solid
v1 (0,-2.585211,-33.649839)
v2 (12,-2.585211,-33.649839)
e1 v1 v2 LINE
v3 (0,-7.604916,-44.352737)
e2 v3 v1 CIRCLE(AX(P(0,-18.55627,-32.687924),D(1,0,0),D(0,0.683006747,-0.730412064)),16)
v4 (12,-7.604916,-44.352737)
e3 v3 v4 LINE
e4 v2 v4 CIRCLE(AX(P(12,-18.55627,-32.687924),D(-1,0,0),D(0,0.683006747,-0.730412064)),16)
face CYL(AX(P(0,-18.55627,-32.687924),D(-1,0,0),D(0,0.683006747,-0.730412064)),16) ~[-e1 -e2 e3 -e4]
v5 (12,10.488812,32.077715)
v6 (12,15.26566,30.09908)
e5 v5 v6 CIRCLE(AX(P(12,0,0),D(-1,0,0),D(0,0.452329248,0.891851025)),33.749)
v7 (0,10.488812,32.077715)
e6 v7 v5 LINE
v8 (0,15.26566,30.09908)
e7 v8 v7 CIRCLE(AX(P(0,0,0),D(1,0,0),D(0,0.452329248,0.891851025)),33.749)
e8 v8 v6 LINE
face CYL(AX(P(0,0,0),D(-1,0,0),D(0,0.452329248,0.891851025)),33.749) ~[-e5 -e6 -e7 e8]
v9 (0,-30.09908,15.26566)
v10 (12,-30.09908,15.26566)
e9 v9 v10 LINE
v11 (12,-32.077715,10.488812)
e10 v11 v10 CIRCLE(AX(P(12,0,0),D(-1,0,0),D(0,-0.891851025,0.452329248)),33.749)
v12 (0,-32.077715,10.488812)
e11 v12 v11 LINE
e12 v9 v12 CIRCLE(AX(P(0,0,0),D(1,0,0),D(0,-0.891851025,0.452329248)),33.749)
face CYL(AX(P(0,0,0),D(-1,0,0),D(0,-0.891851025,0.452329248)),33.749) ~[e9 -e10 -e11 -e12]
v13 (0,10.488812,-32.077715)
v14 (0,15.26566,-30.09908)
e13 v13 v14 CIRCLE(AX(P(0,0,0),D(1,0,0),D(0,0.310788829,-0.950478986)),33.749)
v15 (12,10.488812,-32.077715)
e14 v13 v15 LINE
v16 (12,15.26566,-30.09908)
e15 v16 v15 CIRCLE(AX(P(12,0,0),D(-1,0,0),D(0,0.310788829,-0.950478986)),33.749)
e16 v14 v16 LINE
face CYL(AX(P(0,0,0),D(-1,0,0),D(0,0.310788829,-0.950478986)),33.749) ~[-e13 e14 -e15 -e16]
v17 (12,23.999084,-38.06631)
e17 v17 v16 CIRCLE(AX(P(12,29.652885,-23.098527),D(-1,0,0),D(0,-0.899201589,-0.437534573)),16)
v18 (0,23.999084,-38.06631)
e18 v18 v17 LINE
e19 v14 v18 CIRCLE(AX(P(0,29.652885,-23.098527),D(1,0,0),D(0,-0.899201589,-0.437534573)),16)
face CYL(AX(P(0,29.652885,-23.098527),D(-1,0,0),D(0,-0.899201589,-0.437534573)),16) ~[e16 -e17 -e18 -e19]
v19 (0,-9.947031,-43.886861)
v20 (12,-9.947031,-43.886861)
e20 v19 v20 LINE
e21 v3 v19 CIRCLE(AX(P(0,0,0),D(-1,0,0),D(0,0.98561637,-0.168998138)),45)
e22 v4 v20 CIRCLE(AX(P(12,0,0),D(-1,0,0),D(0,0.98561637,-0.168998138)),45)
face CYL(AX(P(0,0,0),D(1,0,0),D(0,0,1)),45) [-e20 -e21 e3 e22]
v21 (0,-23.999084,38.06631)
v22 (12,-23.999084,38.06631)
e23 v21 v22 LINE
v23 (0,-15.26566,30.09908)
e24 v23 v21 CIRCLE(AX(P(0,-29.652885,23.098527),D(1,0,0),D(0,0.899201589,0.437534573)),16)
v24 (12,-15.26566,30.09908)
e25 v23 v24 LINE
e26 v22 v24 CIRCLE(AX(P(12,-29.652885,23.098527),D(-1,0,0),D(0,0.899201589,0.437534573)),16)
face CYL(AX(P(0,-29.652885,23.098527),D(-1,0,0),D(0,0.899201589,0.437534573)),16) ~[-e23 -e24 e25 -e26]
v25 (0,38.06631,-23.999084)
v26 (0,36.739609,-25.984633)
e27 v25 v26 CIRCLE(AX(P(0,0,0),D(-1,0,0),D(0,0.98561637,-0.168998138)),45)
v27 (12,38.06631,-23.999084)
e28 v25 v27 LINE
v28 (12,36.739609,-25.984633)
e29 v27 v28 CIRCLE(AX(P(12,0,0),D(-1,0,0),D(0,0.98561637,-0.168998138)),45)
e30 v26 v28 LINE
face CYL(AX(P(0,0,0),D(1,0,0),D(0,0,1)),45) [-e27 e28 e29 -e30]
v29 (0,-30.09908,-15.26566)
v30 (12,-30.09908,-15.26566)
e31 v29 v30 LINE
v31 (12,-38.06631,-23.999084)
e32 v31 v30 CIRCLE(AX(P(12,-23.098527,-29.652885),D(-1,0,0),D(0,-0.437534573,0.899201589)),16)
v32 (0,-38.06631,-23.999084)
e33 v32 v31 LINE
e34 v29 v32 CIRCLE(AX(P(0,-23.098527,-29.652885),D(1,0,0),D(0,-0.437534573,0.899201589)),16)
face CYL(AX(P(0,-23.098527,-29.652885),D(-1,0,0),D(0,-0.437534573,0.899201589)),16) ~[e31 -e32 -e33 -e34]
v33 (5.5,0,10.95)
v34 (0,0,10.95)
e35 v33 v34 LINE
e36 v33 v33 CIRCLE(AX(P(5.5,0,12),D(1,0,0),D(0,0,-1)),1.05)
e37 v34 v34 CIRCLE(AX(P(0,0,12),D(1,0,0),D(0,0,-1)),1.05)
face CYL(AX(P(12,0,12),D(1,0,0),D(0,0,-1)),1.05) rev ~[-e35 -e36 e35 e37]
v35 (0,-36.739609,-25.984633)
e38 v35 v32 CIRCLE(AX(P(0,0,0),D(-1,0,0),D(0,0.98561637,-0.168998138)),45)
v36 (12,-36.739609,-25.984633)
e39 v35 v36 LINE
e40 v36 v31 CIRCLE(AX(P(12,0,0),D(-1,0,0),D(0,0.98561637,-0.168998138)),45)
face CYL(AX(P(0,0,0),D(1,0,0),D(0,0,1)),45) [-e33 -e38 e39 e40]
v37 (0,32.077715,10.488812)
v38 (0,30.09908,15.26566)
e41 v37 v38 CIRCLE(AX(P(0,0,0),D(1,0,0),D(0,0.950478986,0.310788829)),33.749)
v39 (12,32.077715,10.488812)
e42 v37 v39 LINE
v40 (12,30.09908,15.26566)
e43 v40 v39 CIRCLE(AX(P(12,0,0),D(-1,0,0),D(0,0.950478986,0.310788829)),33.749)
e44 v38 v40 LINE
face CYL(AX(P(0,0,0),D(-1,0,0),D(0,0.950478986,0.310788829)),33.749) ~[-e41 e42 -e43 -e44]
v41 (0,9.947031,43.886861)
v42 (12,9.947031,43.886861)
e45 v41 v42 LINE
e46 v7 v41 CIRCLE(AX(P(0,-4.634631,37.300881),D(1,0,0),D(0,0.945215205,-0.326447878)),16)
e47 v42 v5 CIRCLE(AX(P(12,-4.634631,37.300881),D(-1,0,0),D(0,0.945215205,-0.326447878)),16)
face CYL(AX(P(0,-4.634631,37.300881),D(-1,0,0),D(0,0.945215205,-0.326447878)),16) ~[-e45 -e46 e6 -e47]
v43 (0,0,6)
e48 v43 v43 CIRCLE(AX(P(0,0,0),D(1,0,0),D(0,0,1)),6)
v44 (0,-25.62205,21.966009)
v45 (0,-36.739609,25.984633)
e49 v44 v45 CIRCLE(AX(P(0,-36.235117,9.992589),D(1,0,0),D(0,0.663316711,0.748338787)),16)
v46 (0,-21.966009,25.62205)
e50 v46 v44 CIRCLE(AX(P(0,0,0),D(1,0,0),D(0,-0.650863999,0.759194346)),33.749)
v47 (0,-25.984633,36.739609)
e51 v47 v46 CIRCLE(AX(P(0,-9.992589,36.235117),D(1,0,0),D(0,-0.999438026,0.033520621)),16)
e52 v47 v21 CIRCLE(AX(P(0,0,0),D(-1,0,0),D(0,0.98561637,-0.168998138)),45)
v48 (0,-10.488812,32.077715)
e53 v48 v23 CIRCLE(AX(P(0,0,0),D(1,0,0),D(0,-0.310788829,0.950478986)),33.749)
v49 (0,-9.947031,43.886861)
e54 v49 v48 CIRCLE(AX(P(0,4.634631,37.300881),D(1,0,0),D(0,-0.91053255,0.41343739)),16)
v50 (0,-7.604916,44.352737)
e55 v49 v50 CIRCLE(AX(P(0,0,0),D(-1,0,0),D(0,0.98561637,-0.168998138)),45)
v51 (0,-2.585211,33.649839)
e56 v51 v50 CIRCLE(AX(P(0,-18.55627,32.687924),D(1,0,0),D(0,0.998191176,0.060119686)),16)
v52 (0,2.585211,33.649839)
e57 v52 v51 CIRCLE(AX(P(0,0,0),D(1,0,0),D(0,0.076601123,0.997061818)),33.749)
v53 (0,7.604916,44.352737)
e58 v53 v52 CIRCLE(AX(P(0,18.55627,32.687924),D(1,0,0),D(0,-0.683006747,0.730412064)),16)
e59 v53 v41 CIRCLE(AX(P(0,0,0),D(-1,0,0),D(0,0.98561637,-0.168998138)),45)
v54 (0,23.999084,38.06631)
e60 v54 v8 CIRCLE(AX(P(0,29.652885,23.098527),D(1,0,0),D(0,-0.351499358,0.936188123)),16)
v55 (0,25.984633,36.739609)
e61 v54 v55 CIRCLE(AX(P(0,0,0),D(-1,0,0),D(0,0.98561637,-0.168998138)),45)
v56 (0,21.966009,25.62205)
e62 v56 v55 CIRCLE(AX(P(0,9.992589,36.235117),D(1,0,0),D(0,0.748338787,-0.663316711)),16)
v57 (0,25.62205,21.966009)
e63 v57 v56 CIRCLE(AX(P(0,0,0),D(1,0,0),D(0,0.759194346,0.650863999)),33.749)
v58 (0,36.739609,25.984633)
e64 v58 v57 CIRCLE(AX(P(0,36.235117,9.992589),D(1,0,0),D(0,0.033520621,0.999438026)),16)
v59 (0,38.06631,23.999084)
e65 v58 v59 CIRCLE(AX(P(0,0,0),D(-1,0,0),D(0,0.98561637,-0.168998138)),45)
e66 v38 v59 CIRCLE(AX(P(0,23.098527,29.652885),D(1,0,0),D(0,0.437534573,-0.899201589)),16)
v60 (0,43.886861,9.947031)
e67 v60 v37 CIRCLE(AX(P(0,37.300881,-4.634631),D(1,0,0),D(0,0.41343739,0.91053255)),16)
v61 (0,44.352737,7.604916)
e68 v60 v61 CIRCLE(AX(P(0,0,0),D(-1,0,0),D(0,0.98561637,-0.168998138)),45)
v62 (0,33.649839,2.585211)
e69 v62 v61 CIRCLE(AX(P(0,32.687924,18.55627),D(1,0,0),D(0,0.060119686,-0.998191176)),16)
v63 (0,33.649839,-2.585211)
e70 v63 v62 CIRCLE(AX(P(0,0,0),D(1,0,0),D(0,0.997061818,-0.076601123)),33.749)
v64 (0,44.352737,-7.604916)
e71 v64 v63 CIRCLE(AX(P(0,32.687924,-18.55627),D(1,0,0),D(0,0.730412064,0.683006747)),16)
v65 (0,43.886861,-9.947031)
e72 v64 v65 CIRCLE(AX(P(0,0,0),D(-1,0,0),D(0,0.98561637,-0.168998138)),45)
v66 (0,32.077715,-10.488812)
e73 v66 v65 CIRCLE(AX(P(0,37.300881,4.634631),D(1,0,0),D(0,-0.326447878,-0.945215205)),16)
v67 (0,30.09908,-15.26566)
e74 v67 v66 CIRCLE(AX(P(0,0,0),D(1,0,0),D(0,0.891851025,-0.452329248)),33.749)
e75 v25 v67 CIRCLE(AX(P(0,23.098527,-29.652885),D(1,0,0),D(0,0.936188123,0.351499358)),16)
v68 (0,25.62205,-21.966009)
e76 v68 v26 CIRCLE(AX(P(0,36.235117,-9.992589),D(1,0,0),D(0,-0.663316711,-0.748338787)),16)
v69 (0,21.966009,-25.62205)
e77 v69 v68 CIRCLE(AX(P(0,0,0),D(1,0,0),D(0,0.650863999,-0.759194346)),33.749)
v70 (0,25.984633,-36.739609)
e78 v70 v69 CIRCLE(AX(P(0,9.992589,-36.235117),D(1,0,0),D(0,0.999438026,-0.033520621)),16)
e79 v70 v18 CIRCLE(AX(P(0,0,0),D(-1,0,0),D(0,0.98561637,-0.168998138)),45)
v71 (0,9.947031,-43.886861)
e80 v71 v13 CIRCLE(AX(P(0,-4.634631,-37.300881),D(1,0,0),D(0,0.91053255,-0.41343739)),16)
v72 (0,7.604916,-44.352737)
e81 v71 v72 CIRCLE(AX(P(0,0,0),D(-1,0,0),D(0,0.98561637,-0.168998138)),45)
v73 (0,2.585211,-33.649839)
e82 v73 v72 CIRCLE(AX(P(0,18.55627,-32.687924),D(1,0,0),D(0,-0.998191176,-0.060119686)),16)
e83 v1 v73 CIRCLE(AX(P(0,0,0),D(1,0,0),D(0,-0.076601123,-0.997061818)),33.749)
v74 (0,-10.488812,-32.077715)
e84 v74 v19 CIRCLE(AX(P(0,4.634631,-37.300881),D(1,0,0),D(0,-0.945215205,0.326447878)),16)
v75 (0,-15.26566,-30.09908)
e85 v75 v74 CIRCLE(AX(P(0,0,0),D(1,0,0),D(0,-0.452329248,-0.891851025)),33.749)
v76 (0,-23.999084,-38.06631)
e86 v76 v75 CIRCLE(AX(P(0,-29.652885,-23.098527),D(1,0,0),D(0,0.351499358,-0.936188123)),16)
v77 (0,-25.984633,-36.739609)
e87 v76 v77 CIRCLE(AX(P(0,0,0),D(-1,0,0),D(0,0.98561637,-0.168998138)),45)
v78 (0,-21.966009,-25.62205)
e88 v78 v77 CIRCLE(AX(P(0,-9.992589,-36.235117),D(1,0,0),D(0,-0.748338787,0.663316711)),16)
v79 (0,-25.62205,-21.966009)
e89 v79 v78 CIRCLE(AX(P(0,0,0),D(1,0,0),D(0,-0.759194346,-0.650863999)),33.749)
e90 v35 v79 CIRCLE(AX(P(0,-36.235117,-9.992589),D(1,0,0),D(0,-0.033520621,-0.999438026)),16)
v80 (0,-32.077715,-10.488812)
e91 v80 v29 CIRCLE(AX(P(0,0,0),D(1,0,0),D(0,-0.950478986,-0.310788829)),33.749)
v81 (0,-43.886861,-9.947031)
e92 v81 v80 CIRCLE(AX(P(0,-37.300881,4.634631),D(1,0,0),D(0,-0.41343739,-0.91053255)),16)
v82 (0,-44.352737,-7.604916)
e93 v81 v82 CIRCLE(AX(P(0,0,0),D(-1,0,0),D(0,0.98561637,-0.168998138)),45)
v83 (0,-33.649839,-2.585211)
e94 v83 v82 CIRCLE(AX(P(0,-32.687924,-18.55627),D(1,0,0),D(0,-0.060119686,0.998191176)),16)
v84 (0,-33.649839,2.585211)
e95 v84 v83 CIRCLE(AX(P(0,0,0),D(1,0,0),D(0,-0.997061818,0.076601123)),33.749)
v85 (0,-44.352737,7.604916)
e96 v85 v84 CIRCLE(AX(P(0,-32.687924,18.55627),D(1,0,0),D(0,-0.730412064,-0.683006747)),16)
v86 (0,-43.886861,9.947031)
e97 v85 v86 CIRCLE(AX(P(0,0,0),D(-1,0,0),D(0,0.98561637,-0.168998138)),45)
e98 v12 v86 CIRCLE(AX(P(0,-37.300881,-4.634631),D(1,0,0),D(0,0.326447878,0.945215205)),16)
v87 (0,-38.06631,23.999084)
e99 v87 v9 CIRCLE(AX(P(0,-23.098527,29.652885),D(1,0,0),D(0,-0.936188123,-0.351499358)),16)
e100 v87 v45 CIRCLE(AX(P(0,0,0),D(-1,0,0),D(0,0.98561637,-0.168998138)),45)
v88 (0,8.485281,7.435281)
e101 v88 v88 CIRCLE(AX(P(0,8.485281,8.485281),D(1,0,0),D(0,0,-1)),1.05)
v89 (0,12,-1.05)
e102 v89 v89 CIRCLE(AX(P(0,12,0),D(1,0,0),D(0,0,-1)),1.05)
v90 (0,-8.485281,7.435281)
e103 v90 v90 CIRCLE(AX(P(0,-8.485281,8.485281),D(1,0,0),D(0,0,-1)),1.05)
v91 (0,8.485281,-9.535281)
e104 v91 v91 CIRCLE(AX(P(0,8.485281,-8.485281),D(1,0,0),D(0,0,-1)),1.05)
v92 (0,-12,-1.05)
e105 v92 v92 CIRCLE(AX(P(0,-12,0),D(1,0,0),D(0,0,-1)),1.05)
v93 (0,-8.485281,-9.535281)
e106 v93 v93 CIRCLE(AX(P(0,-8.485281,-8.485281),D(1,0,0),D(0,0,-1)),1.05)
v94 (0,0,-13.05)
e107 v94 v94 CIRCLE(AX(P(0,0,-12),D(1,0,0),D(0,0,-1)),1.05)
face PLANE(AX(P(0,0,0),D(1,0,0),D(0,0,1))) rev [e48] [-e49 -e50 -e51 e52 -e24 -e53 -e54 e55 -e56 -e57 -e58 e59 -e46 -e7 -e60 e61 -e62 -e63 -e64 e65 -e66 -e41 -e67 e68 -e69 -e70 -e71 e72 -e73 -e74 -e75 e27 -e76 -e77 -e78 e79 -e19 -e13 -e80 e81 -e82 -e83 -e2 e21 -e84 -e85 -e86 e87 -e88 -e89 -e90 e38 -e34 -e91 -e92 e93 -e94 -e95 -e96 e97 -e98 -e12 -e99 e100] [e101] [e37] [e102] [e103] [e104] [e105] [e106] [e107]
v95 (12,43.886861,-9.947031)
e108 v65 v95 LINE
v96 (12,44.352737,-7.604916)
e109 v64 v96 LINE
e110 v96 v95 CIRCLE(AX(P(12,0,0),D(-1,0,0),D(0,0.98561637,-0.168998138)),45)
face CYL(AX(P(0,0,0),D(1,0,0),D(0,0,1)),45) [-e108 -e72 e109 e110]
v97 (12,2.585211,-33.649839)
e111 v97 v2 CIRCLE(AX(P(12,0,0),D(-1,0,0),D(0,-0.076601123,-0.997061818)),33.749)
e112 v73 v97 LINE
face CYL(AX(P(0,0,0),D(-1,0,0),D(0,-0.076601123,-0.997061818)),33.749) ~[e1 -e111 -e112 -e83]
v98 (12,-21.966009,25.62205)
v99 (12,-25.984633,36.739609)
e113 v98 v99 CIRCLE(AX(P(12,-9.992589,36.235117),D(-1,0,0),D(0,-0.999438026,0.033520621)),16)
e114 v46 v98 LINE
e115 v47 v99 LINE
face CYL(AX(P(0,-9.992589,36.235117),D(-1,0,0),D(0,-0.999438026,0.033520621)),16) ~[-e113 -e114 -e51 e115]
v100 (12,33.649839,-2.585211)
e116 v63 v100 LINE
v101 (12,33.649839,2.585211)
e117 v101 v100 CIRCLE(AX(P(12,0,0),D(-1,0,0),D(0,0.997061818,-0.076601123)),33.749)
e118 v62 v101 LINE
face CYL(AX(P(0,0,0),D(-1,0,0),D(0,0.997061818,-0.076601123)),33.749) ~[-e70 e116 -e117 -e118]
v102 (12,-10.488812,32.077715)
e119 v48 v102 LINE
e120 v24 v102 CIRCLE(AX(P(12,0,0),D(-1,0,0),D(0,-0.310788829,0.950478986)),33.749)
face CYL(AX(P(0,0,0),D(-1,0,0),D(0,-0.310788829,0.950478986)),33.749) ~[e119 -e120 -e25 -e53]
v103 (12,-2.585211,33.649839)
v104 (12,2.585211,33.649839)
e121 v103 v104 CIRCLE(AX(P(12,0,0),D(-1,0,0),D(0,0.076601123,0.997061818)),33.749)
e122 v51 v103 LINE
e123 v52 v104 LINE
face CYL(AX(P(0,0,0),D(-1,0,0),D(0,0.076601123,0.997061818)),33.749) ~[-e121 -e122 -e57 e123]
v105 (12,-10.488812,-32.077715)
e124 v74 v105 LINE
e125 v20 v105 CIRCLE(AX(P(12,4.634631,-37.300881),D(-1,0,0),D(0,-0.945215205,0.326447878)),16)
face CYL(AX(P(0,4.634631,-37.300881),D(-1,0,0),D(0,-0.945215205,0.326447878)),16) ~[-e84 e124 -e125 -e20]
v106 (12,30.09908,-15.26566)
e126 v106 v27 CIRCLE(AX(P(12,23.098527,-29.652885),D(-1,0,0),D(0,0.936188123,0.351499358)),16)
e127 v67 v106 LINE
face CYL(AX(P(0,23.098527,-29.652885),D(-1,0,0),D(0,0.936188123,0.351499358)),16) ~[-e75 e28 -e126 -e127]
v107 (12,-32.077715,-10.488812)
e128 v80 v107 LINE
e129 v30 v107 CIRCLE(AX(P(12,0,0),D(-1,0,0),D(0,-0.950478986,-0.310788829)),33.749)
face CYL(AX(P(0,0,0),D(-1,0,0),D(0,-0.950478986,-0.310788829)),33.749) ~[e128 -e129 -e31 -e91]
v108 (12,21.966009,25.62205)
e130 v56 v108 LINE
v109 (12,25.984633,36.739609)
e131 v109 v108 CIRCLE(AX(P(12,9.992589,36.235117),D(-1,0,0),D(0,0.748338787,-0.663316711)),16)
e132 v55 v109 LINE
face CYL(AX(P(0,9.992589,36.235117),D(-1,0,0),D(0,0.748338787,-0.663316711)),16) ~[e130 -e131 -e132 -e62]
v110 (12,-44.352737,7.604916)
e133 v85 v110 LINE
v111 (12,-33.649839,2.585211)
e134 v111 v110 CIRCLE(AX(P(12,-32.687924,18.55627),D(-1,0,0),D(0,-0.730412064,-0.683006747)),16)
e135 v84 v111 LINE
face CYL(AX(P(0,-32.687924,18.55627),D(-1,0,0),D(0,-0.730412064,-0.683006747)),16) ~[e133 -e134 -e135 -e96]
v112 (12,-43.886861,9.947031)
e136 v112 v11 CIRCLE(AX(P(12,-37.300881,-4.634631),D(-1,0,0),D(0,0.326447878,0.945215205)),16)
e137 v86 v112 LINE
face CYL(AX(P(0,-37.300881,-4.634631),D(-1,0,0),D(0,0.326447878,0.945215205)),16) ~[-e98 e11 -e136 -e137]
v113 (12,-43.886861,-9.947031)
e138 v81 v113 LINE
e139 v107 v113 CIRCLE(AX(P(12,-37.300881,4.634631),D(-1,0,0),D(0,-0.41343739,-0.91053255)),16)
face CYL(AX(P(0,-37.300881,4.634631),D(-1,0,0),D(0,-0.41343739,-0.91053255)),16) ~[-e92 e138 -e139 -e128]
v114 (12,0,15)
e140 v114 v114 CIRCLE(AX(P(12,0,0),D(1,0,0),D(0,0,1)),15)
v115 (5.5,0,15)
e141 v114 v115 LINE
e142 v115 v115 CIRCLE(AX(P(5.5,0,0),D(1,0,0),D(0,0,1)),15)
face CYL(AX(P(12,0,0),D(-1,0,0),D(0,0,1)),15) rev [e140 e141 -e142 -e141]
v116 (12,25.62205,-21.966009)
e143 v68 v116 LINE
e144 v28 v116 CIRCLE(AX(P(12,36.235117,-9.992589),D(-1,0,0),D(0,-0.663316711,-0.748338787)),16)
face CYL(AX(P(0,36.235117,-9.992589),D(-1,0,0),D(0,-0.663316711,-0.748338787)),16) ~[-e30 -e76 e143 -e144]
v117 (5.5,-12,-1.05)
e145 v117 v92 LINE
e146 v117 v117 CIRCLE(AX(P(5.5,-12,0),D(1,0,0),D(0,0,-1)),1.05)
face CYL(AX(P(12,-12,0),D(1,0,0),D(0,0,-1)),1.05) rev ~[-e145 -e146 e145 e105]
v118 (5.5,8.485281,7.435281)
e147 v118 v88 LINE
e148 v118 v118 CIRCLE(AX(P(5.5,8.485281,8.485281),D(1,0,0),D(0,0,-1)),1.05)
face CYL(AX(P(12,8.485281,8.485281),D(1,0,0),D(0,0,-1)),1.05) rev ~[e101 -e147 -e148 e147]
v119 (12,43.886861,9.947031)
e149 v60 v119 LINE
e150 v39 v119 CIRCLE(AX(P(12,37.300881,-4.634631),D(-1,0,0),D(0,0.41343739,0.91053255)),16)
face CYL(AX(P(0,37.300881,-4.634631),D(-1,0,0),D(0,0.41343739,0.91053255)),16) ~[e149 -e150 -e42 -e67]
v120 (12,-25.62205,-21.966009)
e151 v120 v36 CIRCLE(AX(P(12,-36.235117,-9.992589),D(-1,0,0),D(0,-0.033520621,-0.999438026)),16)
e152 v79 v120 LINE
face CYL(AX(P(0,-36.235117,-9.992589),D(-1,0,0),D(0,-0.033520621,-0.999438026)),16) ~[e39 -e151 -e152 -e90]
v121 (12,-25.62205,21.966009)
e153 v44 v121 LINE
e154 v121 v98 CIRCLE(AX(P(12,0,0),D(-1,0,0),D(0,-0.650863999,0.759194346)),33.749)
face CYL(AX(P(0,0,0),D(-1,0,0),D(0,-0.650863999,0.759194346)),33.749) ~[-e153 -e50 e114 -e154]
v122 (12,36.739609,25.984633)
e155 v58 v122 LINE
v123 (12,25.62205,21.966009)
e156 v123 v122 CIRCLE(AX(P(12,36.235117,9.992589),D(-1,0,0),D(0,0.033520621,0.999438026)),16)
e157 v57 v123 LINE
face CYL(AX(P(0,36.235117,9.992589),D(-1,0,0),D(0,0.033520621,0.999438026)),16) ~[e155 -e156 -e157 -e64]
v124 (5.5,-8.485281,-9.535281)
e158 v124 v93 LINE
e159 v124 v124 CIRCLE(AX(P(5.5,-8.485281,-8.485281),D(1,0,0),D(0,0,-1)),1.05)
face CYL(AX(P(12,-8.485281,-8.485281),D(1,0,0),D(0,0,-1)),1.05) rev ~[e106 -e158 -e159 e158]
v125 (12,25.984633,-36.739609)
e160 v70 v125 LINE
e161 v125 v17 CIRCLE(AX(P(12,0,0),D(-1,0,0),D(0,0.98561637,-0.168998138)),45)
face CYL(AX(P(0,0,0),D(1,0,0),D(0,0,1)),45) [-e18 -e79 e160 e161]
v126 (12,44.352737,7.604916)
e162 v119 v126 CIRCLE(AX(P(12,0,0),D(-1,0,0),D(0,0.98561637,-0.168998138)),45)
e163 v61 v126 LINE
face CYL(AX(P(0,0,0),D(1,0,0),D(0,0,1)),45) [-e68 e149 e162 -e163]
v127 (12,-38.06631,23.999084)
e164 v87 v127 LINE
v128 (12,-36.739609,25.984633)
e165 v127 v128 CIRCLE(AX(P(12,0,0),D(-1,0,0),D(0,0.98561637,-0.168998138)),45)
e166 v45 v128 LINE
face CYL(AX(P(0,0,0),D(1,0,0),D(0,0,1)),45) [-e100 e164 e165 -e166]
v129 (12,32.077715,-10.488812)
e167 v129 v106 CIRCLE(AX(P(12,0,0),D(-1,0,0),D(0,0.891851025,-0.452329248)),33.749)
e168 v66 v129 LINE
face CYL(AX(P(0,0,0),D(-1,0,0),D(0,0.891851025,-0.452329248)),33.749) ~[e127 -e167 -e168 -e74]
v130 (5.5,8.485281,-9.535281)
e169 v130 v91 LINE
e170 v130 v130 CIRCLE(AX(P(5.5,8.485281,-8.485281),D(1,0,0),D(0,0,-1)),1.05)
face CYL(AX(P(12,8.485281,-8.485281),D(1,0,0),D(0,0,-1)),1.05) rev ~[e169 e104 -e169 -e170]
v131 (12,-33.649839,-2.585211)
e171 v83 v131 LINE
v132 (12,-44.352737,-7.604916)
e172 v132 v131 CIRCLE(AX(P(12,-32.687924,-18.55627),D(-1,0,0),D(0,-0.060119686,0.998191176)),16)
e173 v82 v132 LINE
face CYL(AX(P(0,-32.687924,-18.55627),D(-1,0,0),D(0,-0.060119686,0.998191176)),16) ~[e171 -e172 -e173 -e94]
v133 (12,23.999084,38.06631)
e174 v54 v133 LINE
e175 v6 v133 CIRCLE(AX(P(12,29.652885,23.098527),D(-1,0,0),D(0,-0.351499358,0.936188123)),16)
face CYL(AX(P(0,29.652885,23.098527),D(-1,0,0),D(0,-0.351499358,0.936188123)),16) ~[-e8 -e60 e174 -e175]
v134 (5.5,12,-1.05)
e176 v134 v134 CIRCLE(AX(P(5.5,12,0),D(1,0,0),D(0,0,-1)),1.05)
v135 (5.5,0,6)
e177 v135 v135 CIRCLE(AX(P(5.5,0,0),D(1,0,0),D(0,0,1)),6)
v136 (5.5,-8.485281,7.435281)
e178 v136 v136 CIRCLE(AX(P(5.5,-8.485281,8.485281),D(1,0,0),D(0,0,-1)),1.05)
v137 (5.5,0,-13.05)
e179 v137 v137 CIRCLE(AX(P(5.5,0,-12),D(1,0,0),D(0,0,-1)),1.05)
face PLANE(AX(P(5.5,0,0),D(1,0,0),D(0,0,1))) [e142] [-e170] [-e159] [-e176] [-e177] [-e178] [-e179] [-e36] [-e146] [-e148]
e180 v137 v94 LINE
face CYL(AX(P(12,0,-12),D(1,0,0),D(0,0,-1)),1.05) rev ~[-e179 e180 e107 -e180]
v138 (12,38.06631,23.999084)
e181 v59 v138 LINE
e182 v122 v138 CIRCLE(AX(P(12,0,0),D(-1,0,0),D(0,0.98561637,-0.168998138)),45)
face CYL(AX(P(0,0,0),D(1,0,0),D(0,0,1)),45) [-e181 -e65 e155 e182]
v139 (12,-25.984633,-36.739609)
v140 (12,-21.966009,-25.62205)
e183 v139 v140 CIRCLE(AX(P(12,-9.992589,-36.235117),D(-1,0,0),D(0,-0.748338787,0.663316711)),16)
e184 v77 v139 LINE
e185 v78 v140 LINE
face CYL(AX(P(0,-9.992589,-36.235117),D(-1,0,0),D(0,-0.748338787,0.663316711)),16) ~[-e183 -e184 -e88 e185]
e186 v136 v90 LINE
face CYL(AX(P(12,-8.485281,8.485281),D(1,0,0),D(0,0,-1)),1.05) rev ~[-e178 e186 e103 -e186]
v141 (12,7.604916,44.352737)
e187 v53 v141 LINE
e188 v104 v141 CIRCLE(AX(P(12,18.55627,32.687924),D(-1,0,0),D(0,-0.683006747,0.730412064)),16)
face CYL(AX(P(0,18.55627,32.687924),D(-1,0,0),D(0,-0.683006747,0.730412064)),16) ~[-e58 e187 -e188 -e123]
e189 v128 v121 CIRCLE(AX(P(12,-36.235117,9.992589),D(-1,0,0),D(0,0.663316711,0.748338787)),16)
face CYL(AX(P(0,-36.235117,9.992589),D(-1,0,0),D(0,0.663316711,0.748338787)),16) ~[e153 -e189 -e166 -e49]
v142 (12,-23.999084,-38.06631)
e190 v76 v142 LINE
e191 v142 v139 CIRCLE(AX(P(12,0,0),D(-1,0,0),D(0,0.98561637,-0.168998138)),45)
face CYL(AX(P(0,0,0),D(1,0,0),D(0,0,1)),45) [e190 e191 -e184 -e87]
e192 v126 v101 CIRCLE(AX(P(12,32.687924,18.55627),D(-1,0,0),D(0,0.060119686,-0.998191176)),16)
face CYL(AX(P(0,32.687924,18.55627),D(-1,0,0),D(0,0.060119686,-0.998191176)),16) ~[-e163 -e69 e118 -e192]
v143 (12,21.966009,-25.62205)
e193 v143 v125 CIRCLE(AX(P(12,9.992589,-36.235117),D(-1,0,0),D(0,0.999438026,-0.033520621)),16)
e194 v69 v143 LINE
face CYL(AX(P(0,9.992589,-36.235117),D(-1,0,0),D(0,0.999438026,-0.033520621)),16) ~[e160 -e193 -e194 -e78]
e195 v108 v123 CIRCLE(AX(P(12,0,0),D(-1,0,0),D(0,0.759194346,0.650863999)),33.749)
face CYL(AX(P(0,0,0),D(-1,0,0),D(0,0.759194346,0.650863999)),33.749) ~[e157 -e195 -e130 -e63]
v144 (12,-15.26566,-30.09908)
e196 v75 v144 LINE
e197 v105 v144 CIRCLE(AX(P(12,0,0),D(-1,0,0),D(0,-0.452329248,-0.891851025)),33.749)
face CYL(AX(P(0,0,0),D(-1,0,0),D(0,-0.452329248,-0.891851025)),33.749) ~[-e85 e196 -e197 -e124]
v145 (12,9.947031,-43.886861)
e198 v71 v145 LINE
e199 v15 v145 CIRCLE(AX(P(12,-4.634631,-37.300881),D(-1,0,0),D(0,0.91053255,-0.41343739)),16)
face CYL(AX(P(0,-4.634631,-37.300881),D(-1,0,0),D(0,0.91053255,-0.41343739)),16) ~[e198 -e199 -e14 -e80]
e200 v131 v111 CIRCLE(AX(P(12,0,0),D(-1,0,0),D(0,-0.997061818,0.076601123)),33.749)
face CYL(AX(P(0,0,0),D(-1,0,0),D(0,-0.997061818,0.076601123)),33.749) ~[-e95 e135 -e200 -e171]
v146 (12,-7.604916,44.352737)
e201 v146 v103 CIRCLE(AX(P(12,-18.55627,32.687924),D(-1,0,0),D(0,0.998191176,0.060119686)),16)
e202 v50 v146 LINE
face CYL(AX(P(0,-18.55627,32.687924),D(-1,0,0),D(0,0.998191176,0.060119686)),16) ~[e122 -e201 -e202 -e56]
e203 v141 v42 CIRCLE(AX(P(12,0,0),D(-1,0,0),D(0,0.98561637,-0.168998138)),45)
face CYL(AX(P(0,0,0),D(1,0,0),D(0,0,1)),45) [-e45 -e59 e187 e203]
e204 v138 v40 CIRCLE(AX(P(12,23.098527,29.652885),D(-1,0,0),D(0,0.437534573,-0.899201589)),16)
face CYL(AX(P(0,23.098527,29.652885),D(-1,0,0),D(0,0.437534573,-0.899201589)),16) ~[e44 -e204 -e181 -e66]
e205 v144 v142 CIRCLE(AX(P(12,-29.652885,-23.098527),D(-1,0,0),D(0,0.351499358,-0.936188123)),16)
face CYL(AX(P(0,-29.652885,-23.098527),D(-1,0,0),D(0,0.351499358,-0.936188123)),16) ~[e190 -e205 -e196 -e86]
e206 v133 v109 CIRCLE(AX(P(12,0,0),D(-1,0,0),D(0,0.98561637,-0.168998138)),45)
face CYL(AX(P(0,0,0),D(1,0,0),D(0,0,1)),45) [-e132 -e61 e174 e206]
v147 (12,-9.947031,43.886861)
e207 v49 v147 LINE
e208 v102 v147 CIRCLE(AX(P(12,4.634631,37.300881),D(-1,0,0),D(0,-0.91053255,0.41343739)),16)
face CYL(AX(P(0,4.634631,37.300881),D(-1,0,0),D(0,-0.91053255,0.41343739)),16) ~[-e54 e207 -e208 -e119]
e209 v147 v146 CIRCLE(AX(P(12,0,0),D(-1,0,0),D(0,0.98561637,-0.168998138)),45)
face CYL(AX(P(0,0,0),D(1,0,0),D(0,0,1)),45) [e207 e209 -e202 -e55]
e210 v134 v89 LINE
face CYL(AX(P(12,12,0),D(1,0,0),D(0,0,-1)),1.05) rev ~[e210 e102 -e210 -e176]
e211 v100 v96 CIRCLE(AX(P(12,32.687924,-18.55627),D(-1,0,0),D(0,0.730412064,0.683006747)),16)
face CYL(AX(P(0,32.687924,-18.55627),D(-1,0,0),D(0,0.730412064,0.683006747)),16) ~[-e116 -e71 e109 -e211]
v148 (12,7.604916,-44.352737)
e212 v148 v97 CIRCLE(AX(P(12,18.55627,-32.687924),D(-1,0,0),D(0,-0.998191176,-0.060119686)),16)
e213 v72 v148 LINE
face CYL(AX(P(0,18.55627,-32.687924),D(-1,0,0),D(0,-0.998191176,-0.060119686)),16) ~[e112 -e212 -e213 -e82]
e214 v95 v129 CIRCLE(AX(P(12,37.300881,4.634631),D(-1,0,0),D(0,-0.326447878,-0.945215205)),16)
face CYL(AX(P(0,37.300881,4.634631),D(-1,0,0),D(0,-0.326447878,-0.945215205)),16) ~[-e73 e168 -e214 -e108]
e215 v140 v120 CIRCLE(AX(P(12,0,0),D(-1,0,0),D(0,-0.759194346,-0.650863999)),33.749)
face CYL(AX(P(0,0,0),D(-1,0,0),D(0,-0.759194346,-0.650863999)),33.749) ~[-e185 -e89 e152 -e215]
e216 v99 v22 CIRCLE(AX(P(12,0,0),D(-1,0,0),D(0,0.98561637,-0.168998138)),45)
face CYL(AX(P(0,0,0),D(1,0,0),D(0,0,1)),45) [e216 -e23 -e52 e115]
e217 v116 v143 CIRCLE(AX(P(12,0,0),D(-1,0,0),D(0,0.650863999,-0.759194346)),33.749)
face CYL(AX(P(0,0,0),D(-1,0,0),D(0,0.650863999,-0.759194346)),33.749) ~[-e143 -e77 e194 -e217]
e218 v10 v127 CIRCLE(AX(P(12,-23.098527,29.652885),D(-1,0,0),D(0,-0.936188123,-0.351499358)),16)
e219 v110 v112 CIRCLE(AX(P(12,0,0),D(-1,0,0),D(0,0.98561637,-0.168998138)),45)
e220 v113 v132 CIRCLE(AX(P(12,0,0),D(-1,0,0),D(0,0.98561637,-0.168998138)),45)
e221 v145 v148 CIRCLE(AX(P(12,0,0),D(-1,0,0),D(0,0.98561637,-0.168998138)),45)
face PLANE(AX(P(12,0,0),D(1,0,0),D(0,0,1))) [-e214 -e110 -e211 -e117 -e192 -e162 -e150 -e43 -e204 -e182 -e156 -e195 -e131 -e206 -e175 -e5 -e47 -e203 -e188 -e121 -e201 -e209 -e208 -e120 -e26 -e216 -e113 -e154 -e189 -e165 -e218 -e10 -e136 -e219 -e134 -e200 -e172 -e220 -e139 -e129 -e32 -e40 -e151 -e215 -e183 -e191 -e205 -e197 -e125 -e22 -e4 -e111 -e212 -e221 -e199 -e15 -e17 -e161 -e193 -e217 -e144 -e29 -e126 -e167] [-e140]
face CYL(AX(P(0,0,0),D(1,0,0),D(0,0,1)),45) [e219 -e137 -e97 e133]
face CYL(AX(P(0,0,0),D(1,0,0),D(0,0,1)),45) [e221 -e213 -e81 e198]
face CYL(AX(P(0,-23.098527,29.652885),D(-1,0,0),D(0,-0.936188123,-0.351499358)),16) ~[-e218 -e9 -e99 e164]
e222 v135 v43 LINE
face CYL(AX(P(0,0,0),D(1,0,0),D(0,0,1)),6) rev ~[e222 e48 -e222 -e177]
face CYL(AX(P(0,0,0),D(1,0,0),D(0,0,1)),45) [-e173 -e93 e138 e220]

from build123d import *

# Parameters (mm, degrees)
TOOTHCUT_DEPTH     = 65.761099435
TEETHCUTS_COUNT    = 16
TEETHCUTS_ANGLE    = 337.5
BORSKE_R           = 6
BORE_DEPTH         = 50.0000508
SKETCH1_R          = 1.05
CUT_EXTRUDE1_DEPTH = 120


with BuildPart() as part:
    # BasProSke → Base-Revolve (revolve)
    with BuildSketch(Plane(origin=(0, 0, 0), x_dir=(1, 0, 0), z_dir=(0, 1, 0)), mode=Mode.PRIVATE) as base_revolve_sk:
        Polygon((0, 0), (0, 45), (12, 45), (12, 15), (5.5, 15), (5.5, 6), (4, 6), (4, 0), align=None)
    revolve(base_revolve_sk.sketch.rotate(Axis((-10, 0, 0), (1, 0, 0)), 180), axis=Axis((-10, 0, 0), (1, 0, 0)))

    # TooCutSke → ToothCut (cut, through all)
    with BuildSketch(Plane(origin=(0, 0, 0), x_dir=(0, 0, -1), z_dir=(1, 0, 0))):
        with BuildLine():
            ThreePointArc((2.585211293, 33.64983928), (0, 33.749), (-2.585211293, 33.64983928))
            ThreePointArc((-2.585211293, 33.64983928), (-4.077113604, 39.496303475), (-7.62816215, 44.37451732))
            ThreePointArc((-7.62816215, 44.37451732), (0, 45.0254), (7.62816215, 44.37451732))
            ThreePointArc((7.62816215, 44.37451732), (4.077113604, 39.496303475), (2.585211293, 33.64983928))
        make_face()
    toothcut = extrude(amount=TOOTHCUT_DEPTH, mode=Mode.SUBTRACT)

    # TeethCuts: ToothCut ×16 about axis
    teethcuts_axis = Axis((-10, 0, 0), (1, 0, 0))
    for i in range(1, TEETHCUTS_COUNT):
        add(toothcut.rotate(teethcuts_axis, i * TEETHCUTS_ANGLE / (TEETHCUTS_COUNT - 1)), mode=Mode.SUBTRACT)

    # BorSke → Bore (cut, symmetric)
    with BuildSketch(Plane(origin=(0, 0, 0), x_dir=(0, 0, -1), z_dir=(1, 0, 0))):
        with Locations(Location((0, 0, 0), (0, 0, 180))):
            Circle(BORSKE_R)
    extrude(amount=BORE_DEPTH, both=True, mode=Mode.SUBTRACT)

    # Sketch1 → Cut-Extrude1 (cut)
    with BuildSketch(Plane(origin=(12, 0, 0), x_dir=(0, 0, -1), z_dir=(1, 0, 0))):
        with Locations((0, 12)):
            Circle(SKETCH1_R)
        with Locations((8.485281374, 8.485281374)):
            Circle(SKETCH1_R)
        with Locations((12, 0)):
            Circle(SKETCH1_R)
        with Locations((8.485281374, -8.485281374)):
            Circle(SKETCH1_R)
        with Locations((0, -12)):
            Circle(SKETCH1_R)
        with Locations((-8.485281374, -8.485281374)):
            Circle(SKETCH1_R)
        with Locations((-12, 0)):
            Circle(SKETCH1_R)
        with Locations((-8.485281374, 8.485281374)):
            Circle(SKETCH1_R)
    extrude(amount=-CUT_EXTRUDE1_DEPTH, mode=Mode.SUBTRACT)


solid = part.part
